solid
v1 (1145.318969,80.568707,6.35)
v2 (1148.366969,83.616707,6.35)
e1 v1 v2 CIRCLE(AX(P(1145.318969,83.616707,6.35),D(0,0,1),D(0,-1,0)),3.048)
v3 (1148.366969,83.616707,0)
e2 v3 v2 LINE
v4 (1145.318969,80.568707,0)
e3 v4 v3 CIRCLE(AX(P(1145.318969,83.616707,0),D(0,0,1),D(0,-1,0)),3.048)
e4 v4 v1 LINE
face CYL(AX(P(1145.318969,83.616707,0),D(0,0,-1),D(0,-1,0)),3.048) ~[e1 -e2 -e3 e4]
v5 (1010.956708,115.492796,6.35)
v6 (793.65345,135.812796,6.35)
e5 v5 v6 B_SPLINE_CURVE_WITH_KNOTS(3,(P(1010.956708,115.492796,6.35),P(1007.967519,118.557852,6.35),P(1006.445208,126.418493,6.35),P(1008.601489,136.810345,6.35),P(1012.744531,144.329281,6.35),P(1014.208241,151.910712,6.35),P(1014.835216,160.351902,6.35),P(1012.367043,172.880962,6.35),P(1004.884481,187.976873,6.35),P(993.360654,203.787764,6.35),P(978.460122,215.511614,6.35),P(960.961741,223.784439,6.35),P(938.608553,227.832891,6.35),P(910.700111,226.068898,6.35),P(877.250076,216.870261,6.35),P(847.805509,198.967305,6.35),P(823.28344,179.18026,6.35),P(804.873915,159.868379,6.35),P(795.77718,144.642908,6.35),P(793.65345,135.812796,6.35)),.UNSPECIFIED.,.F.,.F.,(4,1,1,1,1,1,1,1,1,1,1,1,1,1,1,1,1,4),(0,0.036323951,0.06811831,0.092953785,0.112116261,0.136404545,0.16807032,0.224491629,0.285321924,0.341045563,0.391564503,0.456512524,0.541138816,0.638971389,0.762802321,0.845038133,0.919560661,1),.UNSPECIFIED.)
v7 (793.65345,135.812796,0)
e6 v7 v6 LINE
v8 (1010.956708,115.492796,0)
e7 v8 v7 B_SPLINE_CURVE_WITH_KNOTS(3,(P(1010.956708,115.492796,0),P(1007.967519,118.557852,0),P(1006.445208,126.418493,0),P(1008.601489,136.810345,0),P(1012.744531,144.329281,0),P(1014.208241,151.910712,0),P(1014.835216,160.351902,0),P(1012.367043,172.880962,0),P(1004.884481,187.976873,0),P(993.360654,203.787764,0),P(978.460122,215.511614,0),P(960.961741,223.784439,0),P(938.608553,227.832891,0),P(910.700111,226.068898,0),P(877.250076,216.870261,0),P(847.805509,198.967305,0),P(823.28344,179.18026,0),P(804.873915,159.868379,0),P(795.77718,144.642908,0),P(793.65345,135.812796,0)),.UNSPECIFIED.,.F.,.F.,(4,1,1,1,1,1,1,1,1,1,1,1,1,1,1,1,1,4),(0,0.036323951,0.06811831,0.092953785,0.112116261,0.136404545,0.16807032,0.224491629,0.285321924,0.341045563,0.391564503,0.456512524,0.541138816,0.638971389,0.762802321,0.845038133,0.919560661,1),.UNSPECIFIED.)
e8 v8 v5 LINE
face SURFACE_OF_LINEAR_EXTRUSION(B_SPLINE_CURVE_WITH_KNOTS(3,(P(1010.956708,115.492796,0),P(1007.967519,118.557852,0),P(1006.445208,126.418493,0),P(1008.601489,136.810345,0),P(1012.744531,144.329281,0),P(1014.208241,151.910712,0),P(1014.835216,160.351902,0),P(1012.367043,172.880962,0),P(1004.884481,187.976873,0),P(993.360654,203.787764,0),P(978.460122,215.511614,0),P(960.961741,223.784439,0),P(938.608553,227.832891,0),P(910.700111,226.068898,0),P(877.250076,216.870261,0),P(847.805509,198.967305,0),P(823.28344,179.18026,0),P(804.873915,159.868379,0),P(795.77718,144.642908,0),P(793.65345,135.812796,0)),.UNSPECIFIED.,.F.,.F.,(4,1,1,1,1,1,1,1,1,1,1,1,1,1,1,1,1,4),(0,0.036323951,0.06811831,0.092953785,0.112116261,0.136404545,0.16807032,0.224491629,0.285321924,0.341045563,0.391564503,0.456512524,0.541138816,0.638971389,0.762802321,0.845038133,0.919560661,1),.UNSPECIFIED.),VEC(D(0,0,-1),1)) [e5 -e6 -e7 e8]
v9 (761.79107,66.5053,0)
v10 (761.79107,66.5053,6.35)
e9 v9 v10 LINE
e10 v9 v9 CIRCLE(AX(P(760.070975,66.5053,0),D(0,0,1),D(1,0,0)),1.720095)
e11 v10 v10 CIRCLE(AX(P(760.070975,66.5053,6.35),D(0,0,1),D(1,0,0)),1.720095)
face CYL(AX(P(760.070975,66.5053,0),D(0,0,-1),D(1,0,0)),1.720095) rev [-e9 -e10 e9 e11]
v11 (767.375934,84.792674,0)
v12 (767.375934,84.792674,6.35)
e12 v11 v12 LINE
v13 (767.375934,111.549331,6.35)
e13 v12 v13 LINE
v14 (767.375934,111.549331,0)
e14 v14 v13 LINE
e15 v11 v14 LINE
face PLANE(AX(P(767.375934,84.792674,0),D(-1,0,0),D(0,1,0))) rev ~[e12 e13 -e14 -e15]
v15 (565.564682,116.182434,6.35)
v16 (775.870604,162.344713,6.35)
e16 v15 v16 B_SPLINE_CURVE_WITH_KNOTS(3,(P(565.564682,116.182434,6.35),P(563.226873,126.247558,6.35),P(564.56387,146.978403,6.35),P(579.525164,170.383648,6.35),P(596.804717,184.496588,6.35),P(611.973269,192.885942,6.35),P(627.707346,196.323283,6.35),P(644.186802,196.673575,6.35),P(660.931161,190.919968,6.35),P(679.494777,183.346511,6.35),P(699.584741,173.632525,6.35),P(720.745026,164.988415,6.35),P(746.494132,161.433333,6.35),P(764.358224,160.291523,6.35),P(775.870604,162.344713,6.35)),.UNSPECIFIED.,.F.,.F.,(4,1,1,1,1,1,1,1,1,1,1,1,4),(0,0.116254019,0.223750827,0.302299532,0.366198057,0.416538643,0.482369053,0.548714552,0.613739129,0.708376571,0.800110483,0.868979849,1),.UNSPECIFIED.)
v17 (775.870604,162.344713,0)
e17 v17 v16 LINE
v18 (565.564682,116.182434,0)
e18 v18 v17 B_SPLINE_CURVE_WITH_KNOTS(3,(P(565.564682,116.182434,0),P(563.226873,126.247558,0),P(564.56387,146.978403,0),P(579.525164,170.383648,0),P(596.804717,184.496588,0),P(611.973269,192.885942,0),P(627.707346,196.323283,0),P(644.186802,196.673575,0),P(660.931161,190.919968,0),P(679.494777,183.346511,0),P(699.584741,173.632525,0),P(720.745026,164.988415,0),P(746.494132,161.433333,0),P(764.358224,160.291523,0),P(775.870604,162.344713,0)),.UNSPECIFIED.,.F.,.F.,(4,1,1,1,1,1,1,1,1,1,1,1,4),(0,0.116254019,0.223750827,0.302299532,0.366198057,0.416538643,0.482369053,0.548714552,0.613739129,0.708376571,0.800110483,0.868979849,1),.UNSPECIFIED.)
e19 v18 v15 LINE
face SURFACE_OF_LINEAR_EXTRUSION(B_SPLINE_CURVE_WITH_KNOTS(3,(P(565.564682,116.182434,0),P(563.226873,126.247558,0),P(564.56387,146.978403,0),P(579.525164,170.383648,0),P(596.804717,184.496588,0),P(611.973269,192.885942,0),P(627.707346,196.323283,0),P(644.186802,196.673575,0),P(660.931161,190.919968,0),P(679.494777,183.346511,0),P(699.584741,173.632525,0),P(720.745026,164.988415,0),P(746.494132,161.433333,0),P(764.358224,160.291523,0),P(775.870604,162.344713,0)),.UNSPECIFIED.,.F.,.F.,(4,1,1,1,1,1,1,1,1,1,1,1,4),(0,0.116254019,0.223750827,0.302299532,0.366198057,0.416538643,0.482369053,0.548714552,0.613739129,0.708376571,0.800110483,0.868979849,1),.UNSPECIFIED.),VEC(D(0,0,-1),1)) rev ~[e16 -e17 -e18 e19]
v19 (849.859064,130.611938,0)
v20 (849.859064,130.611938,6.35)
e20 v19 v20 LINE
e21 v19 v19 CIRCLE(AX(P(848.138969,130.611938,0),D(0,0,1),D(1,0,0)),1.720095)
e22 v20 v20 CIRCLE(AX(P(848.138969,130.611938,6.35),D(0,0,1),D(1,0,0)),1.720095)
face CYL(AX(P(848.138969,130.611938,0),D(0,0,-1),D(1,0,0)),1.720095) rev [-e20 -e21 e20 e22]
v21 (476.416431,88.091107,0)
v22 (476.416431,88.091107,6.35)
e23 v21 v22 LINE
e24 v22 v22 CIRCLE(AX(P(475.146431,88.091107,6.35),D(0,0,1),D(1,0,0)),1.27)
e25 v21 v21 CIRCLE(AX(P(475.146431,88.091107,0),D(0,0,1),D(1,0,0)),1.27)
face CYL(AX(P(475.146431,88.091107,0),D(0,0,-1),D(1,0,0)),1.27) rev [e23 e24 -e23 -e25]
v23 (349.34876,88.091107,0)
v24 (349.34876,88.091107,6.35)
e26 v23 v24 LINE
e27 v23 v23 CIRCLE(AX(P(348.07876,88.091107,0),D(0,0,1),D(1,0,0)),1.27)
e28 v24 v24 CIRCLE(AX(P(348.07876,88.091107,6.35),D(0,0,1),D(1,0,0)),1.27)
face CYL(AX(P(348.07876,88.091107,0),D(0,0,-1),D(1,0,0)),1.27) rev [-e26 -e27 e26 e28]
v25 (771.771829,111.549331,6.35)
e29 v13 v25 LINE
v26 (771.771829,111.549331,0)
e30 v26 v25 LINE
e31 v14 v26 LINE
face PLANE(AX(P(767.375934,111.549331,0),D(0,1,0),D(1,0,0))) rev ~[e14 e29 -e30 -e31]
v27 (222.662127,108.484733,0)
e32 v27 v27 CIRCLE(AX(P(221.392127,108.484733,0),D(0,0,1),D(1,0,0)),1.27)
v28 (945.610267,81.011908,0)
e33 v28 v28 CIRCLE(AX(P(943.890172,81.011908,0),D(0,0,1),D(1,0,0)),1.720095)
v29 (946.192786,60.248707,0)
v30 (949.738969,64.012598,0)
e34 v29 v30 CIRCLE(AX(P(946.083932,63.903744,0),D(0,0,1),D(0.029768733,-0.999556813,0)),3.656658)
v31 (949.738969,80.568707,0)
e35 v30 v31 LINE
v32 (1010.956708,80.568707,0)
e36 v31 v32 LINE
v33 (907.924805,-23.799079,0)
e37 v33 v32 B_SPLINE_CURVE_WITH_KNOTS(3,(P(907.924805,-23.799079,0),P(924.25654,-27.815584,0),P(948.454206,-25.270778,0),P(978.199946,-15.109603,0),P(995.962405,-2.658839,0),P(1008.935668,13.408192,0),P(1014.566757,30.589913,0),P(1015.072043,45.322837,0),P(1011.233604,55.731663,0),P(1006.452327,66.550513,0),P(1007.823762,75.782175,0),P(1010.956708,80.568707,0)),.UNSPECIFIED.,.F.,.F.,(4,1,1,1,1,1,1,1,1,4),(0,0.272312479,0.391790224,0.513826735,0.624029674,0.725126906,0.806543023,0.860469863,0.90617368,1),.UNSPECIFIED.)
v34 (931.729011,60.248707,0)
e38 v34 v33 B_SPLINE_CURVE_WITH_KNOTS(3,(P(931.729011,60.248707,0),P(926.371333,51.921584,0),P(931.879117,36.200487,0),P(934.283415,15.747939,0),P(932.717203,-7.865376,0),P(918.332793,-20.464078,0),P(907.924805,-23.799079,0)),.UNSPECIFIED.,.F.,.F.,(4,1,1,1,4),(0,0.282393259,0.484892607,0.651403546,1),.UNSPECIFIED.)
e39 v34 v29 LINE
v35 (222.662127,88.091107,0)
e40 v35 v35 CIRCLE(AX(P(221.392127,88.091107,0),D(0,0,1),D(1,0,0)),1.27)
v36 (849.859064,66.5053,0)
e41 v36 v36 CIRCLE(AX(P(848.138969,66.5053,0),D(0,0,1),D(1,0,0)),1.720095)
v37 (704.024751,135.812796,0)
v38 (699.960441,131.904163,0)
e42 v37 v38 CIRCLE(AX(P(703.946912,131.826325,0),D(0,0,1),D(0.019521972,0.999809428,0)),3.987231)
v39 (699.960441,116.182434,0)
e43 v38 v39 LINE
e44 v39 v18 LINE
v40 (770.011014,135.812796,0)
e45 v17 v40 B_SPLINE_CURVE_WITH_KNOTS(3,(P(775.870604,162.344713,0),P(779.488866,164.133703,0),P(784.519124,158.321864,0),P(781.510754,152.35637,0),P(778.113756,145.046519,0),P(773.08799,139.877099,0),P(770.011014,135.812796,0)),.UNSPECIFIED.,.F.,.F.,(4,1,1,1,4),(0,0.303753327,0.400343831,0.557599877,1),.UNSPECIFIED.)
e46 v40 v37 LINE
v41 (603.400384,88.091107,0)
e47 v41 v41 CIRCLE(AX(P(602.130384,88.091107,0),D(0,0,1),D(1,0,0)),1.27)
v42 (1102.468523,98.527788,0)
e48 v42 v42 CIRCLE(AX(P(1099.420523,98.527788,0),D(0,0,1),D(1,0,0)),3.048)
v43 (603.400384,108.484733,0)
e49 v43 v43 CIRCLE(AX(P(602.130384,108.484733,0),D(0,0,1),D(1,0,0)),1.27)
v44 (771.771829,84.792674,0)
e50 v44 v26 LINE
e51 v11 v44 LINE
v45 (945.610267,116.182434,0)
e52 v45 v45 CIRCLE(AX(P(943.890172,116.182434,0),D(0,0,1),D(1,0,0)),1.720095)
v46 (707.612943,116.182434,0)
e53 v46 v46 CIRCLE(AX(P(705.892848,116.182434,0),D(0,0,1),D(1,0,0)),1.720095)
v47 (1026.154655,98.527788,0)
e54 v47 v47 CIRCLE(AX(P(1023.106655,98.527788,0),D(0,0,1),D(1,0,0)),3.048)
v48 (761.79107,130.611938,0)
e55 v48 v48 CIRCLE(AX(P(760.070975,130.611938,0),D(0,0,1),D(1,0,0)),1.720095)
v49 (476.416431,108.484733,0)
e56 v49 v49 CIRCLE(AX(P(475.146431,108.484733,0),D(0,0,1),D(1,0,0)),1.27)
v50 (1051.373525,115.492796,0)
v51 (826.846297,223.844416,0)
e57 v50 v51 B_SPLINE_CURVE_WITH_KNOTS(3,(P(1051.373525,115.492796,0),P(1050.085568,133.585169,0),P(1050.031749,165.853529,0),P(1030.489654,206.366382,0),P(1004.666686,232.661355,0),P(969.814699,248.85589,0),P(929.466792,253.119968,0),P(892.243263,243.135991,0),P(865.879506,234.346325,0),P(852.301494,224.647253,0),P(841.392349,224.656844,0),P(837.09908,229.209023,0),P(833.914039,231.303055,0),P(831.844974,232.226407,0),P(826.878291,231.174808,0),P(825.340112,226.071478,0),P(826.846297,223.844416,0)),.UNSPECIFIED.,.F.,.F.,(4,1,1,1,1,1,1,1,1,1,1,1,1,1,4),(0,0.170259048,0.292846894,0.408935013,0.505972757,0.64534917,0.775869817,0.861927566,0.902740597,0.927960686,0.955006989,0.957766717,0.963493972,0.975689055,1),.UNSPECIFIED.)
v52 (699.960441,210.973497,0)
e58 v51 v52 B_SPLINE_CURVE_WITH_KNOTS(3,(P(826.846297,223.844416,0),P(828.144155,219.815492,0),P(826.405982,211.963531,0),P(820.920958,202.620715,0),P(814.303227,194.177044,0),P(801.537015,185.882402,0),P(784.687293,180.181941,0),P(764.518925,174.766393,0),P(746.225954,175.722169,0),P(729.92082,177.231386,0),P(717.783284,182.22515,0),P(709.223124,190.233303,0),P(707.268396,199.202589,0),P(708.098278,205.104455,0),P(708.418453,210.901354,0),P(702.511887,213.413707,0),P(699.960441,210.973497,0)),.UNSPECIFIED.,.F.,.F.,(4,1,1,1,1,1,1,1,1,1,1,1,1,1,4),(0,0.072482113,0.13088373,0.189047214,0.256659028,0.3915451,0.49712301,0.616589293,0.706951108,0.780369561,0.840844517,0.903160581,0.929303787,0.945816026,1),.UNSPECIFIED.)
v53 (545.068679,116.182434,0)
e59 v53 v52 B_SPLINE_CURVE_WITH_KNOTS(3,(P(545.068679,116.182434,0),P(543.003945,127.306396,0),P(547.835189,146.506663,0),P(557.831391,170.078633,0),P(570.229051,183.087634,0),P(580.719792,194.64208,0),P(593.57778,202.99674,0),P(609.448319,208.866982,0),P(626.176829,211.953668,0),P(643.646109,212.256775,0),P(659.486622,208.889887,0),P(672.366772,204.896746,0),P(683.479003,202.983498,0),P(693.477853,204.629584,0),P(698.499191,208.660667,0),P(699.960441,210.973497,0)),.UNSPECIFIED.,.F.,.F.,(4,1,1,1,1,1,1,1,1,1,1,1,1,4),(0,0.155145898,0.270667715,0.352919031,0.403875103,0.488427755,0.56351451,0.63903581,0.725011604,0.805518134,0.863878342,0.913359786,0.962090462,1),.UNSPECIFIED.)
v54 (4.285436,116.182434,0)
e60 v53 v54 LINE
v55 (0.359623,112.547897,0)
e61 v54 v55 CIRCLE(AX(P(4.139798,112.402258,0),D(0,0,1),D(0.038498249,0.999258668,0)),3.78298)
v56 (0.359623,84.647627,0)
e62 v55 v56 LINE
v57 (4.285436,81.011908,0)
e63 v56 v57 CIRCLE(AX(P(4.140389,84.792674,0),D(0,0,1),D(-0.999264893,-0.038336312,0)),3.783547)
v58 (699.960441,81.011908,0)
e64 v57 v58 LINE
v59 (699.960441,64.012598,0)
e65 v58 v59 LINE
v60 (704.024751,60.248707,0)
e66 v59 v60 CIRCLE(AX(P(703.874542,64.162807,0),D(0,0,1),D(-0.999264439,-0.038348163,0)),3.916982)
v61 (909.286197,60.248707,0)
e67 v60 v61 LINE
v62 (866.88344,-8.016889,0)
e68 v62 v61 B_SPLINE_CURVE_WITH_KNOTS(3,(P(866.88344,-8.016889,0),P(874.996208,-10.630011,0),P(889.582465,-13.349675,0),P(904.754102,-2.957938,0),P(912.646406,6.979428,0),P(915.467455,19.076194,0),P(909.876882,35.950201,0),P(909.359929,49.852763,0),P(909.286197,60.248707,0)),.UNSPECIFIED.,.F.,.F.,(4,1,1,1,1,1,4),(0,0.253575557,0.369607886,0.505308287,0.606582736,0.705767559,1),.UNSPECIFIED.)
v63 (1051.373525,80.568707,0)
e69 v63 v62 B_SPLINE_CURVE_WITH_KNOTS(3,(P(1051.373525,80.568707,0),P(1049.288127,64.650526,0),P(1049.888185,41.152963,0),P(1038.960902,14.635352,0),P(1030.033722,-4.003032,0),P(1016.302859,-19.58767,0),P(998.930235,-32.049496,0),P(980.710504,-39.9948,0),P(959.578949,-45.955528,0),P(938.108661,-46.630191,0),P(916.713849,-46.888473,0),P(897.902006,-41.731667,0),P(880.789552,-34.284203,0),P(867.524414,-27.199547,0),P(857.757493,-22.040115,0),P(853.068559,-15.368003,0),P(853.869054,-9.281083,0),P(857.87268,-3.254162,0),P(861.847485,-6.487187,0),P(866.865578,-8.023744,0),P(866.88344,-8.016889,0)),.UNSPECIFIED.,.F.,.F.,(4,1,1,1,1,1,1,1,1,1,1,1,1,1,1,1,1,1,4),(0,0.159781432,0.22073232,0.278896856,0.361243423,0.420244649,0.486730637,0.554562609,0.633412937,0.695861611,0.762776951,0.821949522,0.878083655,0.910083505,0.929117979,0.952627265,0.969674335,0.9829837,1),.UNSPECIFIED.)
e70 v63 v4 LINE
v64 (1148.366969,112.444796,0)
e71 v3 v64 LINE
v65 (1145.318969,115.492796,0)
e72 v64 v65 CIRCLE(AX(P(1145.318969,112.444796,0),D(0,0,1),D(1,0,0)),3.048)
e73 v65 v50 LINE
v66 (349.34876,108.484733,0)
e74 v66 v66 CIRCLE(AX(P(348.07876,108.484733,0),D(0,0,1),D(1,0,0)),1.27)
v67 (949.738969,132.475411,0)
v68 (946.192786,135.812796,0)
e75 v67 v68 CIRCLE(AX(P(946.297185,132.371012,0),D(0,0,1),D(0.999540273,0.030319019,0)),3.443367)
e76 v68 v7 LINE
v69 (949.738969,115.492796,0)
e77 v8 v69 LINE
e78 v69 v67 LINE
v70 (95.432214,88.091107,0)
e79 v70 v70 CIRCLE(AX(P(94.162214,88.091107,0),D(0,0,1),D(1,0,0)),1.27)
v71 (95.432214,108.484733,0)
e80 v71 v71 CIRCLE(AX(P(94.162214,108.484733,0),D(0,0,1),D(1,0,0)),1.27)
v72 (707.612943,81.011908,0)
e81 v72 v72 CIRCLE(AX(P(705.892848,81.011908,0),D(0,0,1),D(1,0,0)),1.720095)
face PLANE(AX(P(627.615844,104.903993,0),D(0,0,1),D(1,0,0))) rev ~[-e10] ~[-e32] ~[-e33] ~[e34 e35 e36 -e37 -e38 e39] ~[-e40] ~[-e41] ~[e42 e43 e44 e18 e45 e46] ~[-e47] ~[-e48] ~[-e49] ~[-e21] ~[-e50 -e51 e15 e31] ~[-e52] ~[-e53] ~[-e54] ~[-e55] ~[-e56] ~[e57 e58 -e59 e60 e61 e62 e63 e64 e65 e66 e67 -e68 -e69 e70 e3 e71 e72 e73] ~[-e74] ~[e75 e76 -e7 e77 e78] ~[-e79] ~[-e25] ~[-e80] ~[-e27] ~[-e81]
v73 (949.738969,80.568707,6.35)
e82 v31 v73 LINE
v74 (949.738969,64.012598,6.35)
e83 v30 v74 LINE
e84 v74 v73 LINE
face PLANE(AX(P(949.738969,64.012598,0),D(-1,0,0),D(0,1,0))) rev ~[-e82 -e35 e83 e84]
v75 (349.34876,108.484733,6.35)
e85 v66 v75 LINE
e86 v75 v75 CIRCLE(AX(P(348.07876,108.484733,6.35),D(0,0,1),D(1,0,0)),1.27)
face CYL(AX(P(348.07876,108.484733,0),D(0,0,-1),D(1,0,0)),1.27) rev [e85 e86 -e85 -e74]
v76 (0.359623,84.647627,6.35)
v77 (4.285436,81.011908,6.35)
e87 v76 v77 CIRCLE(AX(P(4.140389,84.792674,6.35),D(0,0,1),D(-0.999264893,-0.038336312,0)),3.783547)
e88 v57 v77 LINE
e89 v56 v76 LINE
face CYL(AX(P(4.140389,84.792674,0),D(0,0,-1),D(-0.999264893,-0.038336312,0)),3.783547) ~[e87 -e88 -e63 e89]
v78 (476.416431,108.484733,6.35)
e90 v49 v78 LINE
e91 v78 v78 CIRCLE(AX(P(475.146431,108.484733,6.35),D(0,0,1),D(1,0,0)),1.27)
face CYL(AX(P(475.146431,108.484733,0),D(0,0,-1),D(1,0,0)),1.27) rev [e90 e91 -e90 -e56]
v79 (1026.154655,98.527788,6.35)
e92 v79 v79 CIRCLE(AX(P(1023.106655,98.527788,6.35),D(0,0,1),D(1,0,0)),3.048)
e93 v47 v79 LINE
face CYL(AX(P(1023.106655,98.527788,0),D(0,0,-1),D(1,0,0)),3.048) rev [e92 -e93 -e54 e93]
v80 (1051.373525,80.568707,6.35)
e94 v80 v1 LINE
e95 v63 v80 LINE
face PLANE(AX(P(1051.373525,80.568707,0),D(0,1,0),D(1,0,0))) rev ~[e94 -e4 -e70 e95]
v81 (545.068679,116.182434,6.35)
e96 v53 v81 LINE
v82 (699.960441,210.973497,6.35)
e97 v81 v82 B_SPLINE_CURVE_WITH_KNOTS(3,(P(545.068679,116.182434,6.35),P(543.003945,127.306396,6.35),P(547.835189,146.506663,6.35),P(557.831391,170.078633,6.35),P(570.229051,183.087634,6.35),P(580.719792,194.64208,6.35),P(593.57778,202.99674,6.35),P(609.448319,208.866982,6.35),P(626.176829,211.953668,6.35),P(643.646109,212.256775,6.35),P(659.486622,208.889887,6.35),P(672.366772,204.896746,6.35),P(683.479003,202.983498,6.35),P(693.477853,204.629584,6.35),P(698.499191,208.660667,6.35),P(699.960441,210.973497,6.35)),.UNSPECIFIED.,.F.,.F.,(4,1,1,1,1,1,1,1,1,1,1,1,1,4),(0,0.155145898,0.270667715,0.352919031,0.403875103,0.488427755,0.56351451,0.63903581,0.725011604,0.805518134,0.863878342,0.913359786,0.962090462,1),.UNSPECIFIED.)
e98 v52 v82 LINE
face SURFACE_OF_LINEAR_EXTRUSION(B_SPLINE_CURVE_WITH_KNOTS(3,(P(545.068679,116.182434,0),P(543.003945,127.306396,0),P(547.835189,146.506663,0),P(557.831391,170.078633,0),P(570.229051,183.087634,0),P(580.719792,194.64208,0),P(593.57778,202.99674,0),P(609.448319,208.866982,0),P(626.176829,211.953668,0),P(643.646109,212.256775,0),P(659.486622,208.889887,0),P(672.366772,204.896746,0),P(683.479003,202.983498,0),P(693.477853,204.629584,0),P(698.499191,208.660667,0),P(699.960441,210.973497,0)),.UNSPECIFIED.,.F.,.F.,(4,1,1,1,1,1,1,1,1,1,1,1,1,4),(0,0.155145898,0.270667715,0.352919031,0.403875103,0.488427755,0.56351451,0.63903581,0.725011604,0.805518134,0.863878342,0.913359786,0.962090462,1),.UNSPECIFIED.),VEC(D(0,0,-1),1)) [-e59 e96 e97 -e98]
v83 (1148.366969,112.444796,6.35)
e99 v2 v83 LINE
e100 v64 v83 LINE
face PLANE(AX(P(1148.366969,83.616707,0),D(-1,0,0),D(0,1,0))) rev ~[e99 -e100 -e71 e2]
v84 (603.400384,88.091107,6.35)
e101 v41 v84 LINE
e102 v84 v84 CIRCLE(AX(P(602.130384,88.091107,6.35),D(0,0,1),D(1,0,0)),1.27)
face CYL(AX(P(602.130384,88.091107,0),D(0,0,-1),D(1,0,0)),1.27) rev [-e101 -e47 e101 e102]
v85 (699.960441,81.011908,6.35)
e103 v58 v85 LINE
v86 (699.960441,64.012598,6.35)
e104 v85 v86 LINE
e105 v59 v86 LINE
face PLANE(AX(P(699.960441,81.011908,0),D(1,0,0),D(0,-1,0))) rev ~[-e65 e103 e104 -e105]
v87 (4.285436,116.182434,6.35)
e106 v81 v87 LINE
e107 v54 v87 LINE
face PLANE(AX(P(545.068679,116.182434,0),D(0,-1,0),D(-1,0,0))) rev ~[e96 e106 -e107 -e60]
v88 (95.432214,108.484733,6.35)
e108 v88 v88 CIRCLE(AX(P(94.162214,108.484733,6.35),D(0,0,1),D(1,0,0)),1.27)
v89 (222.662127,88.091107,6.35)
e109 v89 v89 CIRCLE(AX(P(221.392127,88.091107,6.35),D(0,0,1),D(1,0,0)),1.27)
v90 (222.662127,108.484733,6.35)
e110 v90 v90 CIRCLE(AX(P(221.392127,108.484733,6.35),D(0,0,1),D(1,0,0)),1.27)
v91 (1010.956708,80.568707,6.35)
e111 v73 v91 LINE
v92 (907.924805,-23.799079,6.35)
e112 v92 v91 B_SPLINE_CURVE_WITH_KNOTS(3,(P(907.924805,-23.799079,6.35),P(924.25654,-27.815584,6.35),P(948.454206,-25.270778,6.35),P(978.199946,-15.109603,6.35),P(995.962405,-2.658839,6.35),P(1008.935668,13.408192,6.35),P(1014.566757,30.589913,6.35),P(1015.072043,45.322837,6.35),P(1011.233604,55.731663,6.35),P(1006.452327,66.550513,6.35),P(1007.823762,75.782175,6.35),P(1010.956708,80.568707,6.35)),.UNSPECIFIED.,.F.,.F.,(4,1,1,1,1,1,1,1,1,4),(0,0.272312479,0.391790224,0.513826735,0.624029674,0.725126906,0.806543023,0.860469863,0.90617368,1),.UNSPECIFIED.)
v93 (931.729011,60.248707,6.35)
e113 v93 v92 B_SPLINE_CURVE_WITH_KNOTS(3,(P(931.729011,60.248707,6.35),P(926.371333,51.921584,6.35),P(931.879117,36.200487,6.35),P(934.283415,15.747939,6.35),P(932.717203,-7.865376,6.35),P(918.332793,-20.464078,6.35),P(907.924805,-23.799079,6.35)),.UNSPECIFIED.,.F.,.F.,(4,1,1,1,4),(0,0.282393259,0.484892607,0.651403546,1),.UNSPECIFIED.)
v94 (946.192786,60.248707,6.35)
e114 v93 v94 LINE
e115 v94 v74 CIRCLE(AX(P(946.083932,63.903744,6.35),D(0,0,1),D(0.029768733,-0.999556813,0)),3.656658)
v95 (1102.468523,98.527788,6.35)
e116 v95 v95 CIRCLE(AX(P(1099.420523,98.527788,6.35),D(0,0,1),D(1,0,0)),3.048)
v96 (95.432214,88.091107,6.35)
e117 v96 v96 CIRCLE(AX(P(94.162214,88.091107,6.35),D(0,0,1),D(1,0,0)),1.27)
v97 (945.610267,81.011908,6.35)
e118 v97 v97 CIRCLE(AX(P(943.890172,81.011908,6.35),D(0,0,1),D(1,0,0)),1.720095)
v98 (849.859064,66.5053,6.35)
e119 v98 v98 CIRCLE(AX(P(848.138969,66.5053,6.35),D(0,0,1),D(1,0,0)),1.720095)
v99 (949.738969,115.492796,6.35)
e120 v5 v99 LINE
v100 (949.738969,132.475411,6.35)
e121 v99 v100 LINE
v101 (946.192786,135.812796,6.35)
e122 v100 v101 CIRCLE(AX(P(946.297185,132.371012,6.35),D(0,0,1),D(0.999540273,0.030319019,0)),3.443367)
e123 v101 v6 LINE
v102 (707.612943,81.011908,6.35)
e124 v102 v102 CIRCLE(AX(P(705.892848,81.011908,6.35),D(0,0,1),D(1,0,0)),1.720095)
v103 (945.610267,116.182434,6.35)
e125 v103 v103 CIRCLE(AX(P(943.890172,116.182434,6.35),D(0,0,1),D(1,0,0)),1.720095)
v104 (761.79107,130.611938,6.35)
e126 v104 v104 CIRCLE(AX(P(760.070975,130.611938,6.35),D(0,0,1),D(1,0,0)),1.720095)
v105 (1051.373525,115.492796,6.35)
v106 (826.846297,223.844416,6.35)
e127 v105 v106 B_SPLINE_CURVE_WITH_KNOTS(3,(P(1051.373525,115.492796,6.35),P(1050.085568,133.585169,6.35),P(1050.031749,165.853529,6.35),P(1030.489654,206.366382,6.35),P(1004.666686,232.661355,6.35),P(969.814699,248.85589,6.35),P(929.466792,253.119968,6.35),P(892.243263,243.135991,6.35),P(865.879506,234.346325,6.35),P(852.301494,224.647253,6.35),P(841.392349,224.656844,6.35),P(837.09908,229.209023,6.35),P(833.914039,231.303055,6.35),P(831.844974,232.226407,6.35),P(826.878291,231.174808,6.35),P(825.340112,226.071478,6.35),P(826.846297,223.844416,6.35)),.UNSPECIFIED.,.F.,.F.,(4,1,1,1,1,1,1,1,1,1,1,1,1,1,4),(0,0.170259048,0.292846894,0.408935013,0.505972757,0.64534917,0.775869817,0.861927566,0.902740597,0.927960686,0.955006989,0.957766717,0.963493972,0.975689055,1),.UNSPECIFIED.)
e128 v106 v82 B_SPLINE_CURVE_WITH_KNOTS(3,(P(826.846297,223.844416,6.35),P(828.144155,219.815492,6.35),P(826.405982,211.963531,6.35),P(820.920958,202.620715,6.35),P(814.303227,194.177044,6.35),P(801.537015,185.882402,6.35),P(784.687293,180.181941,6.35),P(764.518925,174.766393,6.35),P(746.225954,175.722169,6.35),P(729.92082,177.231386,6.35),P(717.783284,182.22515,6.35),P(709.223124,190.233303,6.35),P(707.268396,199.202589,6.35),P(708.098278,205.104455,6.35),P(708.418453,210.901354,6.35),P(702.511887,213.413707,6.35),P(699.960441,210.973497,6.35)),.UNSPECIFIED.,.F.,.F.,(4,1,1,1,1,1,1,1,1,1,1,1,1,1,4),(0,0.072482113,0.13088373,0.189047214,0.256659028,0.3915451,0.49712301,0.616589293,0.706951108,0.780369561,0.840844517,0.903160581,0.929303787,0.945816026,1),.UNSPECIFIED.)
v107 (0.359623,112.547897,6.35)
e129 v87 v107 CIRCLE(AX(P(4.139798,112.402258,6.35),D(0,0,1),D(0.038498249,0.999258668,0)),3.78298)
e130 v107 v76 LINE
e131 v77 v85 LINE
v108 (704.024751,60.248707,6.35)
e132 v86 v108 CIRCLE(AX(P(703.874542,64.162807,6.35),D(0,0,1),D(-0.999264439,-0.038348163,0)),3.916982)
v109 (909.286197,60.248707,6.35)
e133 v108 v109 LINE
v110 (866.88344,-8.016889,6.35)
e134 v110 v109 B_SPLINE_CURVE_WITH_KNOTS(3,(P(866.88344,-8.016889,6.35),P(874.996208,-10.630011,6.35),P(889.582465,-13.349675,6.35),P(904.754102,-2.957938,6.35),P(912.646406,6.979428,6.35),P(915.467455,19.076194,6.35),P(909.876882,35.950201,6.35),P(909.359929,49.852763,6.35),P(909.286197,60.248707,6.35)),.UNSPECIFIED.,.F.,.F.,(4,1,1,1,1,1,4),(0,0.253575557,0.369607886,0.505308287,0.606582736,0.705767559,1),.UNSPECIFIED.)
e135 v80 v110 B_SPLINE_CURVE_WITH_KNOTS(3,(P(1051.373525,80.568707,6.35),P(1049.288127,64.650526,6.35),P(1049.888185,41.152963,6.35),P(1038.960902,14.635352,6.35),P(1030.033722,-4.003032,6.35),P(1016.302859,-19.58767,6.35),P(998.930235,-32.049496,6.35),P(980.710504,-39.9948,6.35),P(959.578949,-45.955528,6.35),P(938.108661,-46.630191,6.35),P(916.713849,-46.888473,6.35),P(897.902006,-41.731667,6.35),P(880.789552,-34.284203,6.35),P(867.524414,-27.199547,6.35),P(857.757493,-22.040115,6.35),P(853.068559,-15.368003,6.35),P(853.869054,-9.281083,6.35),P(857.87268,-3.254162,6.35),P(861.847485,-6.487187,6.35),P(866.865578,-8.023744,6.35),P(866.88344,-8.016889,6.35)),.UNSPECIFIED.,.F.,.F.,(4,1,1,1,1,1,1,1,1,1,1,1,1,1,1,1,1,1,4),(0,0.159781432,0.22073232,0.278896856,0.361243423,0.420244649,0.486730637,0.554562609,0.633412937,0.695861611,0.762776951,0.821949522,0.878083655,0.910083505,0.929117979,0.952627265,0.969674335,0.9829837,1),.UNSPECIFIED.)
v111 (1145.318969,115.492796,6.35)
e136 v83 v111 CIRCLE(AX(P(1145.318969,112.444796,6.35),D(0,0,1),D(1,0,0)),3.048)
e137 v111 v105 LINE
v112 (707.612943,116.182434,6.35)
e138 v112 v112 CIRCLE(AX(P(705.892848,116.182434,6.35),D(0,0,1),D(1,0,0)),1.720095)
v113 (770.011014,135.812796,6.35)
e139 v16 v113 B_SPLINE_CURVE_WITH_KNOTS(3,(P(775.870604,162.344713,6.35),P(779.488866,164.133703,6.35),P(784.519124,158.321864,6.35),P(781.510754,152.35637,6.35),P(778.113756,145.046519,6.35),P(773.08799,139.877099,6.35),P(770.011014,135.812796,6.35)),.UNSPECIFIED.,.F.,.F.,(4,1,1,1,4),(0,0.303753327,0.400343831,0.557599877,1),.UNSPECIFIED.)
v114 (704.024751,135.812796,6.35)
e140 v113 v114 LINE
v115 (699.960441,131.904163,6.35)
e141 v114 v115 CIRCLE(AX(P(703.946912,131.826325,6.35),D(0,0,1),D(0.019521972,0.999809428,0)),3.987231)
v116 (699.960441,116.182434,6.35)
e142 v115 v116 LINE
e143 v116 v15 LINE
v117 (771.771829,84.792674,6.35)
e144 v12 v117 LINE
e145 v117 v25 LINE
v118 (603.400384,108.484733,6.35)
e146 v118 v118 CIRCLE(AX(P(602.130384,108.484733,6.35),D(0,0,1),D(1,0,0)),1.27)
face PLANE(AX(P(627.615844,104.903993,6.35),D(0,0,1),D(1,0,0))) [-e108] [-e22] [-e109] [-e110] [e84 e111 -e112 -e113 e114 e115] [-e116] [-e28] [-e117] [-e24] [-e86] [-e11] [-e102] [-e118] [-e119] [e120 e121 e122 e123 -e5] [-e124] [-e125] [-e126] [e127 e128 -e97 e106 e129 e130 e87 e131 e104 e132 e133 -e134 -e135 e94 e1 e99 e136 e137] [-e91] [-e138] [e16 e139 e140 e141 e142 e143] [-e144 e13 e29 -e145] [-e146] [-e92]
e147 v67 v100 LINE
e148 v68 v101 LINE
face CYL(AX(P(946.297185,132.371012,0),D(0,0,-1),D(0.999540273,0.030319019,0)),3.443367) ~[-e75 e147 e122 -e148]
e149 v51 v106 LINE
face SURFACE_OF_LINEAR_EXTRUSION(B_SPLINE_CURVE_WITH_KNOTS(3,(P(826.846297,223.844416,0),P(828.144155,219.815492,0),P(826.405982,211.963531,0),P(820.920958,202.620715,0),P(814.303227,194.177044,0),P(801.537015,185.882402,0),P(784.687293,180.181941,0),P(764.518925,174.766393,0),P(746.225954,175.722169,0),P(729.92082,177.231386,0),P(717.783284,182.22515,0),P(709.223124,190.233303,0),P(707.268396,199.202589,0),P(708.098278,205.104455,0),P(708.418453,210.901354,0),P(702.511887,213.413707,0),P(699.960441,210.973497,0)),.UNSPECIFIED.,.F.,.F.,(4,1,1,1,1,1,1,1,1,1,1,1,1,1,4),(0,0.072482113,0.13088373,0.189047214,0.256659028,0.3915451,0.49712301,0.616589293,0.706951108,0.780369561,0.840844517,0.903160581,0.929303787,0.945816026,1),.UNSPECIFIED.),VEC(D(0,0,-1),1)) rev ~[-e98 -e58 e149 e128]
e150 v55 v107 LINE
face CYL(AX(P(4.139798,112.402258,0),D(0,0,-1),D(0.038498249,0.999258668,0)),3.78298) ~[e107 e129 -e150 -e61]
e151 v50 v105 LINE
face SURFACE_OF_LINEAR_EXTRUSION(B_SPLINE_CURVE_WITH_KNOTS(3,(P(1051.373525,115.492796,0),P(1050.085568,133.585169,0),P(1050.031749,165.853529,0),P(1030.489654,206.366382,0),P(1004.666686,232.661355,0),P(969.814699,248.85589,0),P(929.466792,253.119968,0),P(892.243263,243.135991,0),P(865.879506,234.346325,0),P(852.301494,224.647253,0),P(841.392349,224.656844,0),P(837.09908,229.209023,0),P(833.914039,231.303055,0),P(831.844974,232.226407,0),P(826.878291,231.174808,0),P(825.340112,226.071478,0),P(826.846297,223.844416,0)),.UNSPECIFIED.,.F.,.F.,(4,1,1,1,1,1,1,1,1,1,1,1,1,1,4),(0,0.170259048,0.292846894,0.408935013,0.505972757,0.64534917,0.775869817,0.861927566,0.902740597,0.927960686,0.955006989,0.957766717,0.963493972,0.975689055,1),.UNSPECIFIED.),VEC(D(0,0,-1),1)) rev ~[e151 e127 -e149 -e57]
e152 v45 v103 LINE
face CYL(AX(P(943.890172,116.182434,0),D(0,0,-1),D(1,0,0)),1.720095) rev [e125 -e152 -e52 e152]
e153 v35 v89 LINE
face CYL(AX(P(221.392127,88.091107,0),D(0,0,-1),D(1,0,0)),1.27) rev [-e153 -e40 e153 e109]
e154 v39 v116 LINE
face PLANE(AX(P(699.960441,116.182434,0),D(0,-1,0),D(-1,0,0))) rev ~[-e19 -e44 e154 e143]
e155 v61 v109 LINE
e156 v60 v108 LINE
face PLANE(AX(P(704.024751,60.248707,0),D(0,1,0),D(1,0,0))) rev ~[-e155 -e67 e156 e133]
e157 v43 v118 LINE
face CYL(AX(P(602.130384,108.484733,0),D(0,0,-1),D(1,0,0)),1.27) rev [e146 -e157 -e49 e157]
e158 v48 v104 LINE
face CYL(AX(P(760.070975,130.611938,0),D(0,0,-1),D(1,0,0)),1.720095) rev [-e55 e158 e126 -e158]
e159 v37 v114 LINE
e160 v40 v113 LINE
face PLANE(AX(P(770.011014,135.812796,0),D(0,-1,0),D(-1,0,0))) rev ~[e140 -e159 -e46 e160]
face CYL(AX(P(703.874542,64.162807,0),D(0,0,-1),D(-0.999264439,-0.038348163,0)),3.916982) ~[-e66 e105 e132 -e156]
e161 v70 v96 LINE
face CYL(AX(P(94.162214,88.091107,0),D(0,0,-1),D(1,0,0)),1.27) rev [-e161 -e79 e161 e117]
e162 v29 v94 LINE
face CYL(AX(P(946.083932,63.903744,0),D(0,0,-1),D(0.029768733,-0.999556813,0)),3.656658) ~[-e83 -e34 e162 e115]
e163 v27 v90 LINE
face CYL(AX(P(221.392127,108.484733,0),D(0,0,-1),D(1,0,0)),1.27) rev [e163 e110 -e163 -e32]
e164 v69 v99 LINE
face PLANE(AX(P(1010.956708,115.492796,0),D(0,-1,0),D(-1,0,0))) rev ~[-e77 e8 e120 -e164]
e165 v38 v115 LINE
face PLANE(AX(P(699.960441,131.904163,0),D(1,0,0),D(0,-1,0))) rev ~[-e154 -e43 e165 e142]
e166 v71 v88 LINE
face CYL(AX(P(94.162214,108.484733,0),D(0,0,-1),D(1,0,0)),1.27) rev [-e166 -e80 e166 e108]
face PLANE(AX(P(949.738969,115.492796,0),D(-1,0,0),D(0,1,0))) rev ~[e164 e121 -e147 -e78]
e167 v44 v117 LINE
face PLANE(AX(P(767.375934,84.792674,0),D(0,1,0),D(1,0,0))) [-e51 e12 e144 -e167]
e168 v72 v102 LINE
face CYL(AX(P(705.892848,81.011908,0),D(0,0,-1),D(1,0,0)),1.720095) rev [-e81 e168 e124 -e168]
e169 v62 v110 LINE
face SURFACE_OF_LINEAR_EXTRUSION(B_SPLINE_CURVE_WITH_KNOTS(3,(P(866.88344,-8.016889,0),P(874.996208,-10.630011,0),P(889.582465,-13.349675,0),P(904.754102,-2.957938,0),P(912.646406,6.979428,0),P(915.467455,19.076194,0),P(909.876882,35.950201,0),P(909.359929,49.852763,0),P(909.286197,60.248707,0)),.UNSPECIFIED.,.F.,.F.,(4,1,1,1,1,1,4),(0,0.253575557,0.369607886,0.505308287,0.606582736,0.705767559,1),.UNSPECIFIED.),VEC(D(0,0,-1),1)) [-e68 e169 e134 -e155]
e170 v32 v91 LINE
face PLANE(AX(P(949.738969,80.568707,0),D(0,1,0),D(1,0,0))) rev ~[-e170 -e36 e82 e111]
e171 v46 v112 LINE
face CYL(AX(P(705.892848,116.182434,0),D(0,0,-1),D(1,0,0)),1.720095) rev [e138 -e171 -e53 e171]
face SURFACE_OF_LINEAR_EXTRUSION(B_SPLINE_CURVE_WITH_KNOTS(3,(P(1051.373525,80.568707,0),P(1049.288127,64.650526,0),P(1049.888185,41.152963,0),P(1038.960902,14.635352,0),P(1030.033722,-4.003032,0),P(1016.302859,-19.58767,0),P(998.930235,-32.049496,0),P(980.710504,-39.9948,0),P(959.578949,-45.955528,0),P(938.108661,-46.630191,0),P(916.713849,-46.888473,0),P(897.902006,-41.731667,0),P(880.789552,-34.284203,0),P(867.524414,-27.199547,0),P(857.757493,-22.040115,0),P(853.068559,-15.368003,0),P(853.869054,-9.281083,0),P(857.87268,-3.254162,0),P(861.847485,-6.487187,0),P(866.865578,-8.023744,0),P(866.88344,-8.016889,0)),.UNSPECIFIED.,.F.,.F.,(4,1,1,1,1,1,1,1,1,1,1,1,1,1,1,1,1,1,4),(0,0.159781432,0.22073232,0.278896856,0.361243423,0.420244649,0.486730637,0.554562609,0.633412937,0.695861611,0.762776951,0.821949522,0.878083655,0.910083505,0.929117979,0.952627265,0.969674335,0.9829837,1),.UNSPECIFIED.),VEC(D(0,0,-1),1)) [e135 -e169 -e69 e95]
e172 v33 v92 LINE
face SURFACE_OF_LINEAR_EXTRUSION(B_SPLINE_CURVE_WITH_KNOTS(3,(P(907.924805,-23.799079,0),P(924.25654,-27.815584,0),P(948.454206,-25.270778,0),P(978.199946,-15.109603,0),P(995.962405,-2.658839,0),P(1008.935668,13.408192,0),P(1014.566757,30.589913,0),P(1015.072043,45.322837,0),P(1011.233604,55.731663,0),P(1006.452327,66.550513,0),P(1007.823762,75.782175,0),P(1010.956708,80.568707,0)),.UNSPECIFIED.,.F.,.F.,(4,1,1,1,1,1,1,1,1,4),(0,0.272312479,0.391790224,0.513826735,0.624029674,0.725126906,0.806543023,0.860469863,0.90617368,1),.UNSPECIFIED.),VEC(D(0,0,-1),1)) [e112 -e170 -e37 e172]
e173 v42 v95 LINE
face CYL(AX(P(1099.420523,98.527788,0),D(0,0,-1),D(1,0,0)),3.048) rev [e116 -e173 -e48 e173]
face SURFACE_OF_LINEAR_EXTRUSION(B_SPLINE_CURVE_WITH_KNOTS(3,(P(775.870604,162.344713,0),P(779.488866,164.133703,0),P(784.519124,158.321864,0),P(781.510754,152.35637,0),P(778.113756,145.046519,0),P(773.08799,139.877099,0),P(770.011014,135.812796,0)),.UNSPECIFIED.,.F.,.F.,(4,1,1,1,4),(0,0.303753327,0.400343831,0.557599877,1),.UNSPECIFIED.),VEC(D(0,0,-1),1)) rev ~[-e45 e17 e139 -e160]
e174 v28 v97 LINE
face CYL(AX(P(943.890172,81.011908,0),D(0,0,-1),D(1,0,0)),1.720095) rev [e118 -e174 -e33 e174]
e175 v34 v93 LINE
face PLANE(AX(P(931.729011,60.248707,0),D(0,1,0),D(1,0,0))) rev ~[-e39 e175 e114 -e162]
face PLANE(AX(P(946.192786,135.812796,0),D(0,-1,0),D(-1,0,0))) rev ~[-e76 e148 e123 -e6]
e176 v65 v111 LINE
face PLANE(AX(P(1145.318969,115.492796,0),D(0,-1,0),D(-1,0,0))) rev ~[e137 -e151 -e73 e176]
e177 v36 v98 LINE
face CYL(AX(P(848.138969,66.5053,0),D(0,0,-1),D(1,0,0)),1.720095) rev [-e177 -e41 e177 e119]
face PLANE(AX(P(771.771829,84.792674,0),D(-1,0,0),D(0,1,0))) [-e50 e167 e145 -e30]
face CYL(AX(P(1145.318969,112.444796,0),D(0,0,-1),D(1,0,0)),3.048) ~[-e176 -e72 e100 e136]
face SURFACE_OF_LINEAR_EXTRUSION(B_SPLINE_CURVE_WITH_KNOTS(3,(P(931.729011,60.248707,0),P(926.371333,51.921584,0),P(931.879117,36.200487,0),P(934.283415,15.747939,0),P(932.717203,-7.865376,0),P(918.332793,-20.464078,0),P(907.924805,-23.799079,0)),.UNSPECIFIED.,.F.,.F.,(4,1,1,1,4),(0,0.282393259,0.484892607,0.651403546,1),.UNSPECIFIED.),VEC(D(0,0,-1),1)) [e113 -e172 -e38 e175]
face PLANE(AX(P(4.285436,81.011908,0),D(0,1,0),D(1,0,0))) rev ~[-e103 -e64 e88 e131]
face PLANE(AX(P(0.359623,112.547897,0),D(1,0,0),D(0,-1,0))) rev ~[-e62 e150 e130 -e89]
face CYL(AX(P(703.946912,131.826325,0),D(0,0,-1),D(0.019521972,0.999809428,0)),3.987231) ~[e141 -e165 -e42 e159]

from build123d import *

# Parameters (mm, degrees)
SKETCH1_R           = 1.27
SKETCH1_R_2         = 1.720095417
SKETCH1_W           = 4.395895468
SKETCH1_H           = 26.756656412
SKETCH1_R_3         = 3.048
BOSS_EXTRUDE1_DEPTH = 6.35


with BuildPart() as part:
    # Sketch1 → Boss-Extrude1 (new body)
    with BuildSketch(Plane.XY):
        with BuildLine():
            Line((0.359622665, 112.547896558), (0.359622665, 84.647626996))
            ThreePointArc((0.359622665, 84.647626996), (1.569547298, 82.016705042), (4.285435965, 81.011908201))
            Line((4.285435965, 81.011908201), (699.960441306, 81.011908201))
            Line((699.960441306, 81.011908201), (699.960441306, 64.012598058))
            ThreePointArc((699.960441306, 64.012598058), (701.213068629, 61.288906282), (704.024750828, 60.24870663))
            Line((704.024750828, 60.24870663), (909.286197208, 60.24870663))
            add(Edge.make_bspline(
                [(866.883440258, -8.016888538), (874.996208069, -10.630011106), (889.582465134, -13.349674555), (904.754102276, -2.95793798), (912.646405573, 6.979428185), (915.467454602, 19.076193935), (909.876881939, 35.950201477), (909.359928546, 49.852763393), (909.286197208, 60.24870663)],
                knots=[0, 0, 0, 0, 0.253575557, 0.369607886, 0.505308287, 0.606582736, 0.705767559, 1, 1, 1, 1], degree=3))
            add(Edge.make_bspline(
                [(1051.373524781, 80.56870663), (1049.288127142, 64.650526229), (1049.88818517, 41.15296277), (1038.960901756, 14.635351575), (1030.033721858, -4.003031853), (1016.302858841, -19.587670347), (998.930235011, -32.049495928), (980.710504271, -39.994799999), (959.57894918, -45.955528305), (938.108660724, -46.630190525), (916.713848936, -46.888472713), (897.902005788, -41.731666781), (880.789552489, -34.28420289), (867.524414432, -27.199547471), (857.757493082, -22.04011477), (853.06855917, -15.368003413), (853.869053657, -9.281082738), (857.872680057, -3.254162116), (861.84748545, -6.487186688), (866.865577861, -8.023744377), (866.883440258, -8.016888538)],
                knots=[0, 0, 0, 0, 0.159781432, 0.22073232, 0.278896856, 0.361243423, 0.420244649, 0.486730637, 0.554562609, 0.633412937, 0.695861611, 0.762776951, 0.821949522, 0.878083655, 0.910083505, 0.929117979, 0.952627265, 0.969674335, 0.9829837, 1, 1, 1, 1], degree=3))
            Line((1051.373524781, 80.56870663), (1145.318968911, 80.56870663))
            ThreePointArc((1145.318968911, 80.56870663), (1147.47423038, 81.461445161), (1148.366968911, 83.61670663))
            Line((1148.366968911, 83.61670663), (1148.366968911, 112.444795653))
            ThreePointArc((1148.366968911, 112.444795653), (1147.47423038, 114.600057122), (1145.318968911, 115.492795653))
            Line((1145.318968911, 115.492795653), (1051.373524781, 115.492795653))
            add(Edge.make_bspline(
                [(1051.373524781, 115.492795653), (1050.085567845, 133.585169118), (1050.031748592, 165.853529466), (1030.489653884, 206.366381772), (1004.666685748, 232.661355303), (969.814698833, 248.855889629), (929.466791914, 253.119967796), (892.243263272, 243.135991048), (865.879505599, 234.346324949), (852.301494449, 224.647253002), (841.392349307, 224.656843506), (837.099080275, 229.209023083), (833.914039429, 231.303054702), (831.844974328, 232.226406665), (826.87829078, 231.174808269), (825.340112102, 226.071477889), (826.846296928, 223.844416195)],
                knots=[0, 0, 0, 0, 0.170259048, 0.292846894, 0.408935013, 0.505972757, 0.64534917, 0.775869817, 0.861927566, 0.902740597, 0.927960686, 0.955006989, 0.957766717, 0.963493972, 0.975689055, 1, 1, 1, 1], degree=3))
            add(Edge.make_bspline(
                [(826.846296928, 223.844416195), (828.1441551, 219.815491892), (826.405981943, 211.963531121), (820.920958395, 202.620715011), (814.303227062, 194.177043953), (801.537014519, 185.882402122), (784.687293461, 180.181940997), (764.518925037, 174.766393306), (746.225954239, 175.722168548), (729.920820026, 177.231385826), (717.783284419, 182.225149694), (709.22312443, 190.233303454), (707.268395716, 199.202588574), (708.098277515, 205.104454515), (708.418453014, 210.901354403), (702.511886729, 213.413706755), (699.960441306, 210.973496645)],
                knots=[0, 0, 0, 0, 0.072482113, 0.13088373, 0.189047214, 0.256659028, 0.3915451, 0.49712301, 0.616589293, 0.706951108, 0.780369561, 0.840844517, 0.903160581, 0.929303787, 0.945816026, 1, 1, 1, 1], degree=3))
            add(Edge.make_bspline(
                [(545.068679485, 116.18243367), (543.003944869, 127.306395669), (547.835188666, 146.50666263), (557.831391281, 170.078633417), (570.229050884, 183.087633665), (580.719792418, 194.642079707), (593.5777802, 202.996739544), (609.448319418, 208.86698225), (626.176829351, 211.953667548), (643.646109213, 212.256774791), (659.486622395, 208.88988684), (672.366772331, 204.896746195), (683.479003472, 202.983497948), (693.477852728, 204.629583715), (698.499191276, 208.660666551), (699.960441306, 210.973496645)],
                knots=[0, 0, 0, 0, 0.155145898, 0.270667715, 0.352919031, 0.403875103, 0.488427755, 0.56351451, 0.63903581, 0.725011604, 0.805518134, 0.863878342, 0.913359786, 0.962090462, 1, 1, 1, 1], degree=3))
            Line((545.068679485, 116.18243367), (4.285435965, 116.18243367))
            ThreePointArc((4.285435965, 116.18243367), (1.569792033, 115.17822767), (0.359622665, 112.547896558))
        make_face()
        with BuildLine():
            Line((699.960441306, 116.18243367), (565.564682143, 116.18243367))
            add(Edge.make_bspline(
                [(565.564682143, 116.18243367), (563.226872964, 126.247558426), (564.563870169, 146.978403139), (579.525164002, 170.383648282), (596.804717428, 184.496588222), (611.973268858, 192.885941946), (627.707346003, 196.323282932), (644.186801908, 196.673574965), (660.931161335, 190.919967617), (679.49477656, 183.346510635), (699.584741427, 173.632525371), (720.745026095, 164.98841516), (746.494131876, 161.433333264), (764.358224053, 160.291522579), (775.870604305, 162.344713358)],
                knots=[0, 0, 0, 0, 0.116254019, 0.223750827, 0.302299532, 0.366198057, 0.416538643, 0.482369053, 0.548714552, 0.613739129, 0.708376571, 0.800110483, 0.868979849, 1, 1, 1, 1], degree=3))
            add(Edge.make_bspline(
                [(775.870604305, 162.344713358), (779.488866181, 164.133703127), (784.519124227, 158.321863711), (781.510753604, 152.356369762), (778.113755949, 145.046519293), (773.087990045, 139.877099284), (770.011014066, 135.812795653)],
                knots=[0, 0, 0, 0, 0.303753327, 0.400343831, 0.557599877, 1, 1, 1, 1], degree=3))
            Line((770.011014066, 135.812795653), (704.024750828, 135.812795653))
            ThreePointArc((704.024750828, 135.812795653), (701.183091811, 134.700225562), (699.960441306, 131.904163347))
            Line((699.960441306, 131.904163347), (699.960441306, 116.18243367))
        make_face(mode=Mode.SUBTRACT)
        with BuildLine():
            Line((943.890172073, 135.812795653), (793.653450035, 135.812795653))
            add(Edge.make_bspline(
                [(1010.956707906, 115.492795653), (1007.967519446, 118.557852299), (1006.44520792, 126.418493459), (1008.601489172, 136.81034488), (1012.744531036, 144.329280892), (1014.208241343, 151.910712426), (1014.83521591, 160.351901877), (1012.367043029, 172.880962297), (1004.884481127, 187.9768728), (993.360653721, 203.787764201), (978.460122223, 215.511614276), (960.961741427, 223.784439146), (938.608552625, 227.832891389), (910.700110812, 226.068897979), (877.250076253, 216.870260714), (847.805509367, 198.967305375), (823.283440326, 179.180260176), (804.873915285, 159.868379039), (795.777179698, 144.642908038), (793.653450035, 135.812795653)],
                knots=[0, 0, 0, 0, 0.036323951, 0.06811831, 0.092953785, 0.112116261, 0.136404545, 0.16807032, 0.224491629, 0.285321924, 0.341045563, 0.391564503, 0.456512524, 0.541138816, 0.638971389, 0.762802321, 0.845038133, 0.919560661, 1, 1, 1, 1], degree=3))
            Line((1010.956707906, 115.492795653), (949.738968911, 115.492795653))
            Line((949.738968911, 115.492795653), (949.738968911, 132.475411377))
            ThreePointArc((949.738968911, 132.475411377), (948.657072186, 134.878542119), (946.192785632, 135.812795653))
            Line((946.192785632, 135.812795653), (943.890172073, 135.812795653))
        make_face(mode=Mode.SUBTRACT)
        with BuildLine():
            Line((949.738968911, 80.56870663), (1010.956707906, 80.56870663))
            add(Edge.make_bspline(
                [(907.924805009, -23.799079293), (924.25654034, -27.815584387), (948.454206412, -25.270778028), (978.199946498, -15.109602732), (995.962405074, -2.658838724), (1008.935667748, 13.408192449), (1014.56675733, 30.589912872), (1015.072043006, 45.322836602), (1011.233604334, 55.731662703), (1006.452327286, 66.550512981), (1007.823761663, 75.782174911), (1010.956707906, 80.56870663)],
                knots=[0, 0, 0, 0, 0.272312479, 0.391790224, 0.513826735, 0.624029674, 0.725126906, 0.806543023, 0.860469863, 0.90617368, 1, 1, 1, 1], degree=3))
            add(Edge.make_bspline(
                [(931.72901064, 60.24870663), (926.371333174, 51.921584385), (931.879117456, 36.200486978), (934.283414601, 15.747939395), (932.717203407, -7.865376158), (918.332792966, -20.46407755), (907.924805009, -23.799079293)],
                knots=[0, 0, 0, 0, 0.282393259, 0.484892607, 0.651403546, 1, 1, 1, 1], degree=3))
            Line((931.72901064, 60.24870663), (943.890172073, 60.24870663))
            Line((943.890172073, 60.24870663), (946.192785632, 60.24870663))
            ThreePointArc((946.192785632, 60.24870663), (948.74540471, 61.39621374), (949.738968911, 64.012598058))
            Line((949.738968911, 64.012598058), (949.738968911, 80.56870663))
        make_face(mode=Mode.SUBTRACT)
        with Locations((94.1622142, 88.091107164)):
            Circle(SKETCH1_R, mode=Mode.SUBTRACT)
        with Locations((221.392126764, 88.091107164)):
            Circle(SKETCH1_R, mode=Mode.SUBTRACT)
        with Locations((348.078760153, 88.091107164)):
            Circle(SKETCH1_R, mode=Mode.SUBTRACT)
        with Locations((475.146430575, 88.091107164)):
            Circle(SKETCH1_R, mode=Mode.SUBTRACT)
        with Locations((705.892847696, 81.011908201)):
            Circle(SKETCH1_R_2, mode=Mode.SUBTRACT)
        with Locations((602.130384222, 88.091107164)):
            Circle(SKETCH1_R, mode=Mode.SUBTRACT)
        with Locations((760.070975046, 66.505299661)):
            Circle(SKETCH1_R_2, mode=Mode.SUBTRACT)
        with Locations((848.138968911, 66.505299661)):
            Circle(SKETCH1_R_2, mode=Mode.SUBTRACT)
        with Locations((769.573881411, 98.171002455)):
            Rectangle(SKETCH1_W, SKETCH1_H, mode=Mode.SUBTRACT)
        with Locations((943.890172073, 81.011908201)):
            Circle(SKETCH1_R_2, mode=Mode.SUBTRACT)
        with Locations((1023.106655082, 98.527788179)):
            Circle(SKETCH1_R_3, mode=Mode.SUBTRACT)
        with Locations((1099.420523291, 98.527788179)):
            Circle(SKETCH1_R_3, mode=Mode.SUBTRACT)
        with Locations((94.1622142, 108.484732819)):
            Circle(SKETCH1_R, mode=Mode.SUBTRACT)
        with Locations((221.392126764, 108.484732819)):
            Circle(SKETCH1_R, mode=Mode.SUBTRACT)
        with Locations((348.078760153, 108.484732819)):
            Circle(SKETCH1_R, mode=Mode.SUBTRACT)
        with Locations((475.146430575, 108.484732819)):
            Circle(SKETCH1_R, mode=Mode.SUBTRACT)
        with Locations((602.130384222, 108.484732819)):
            Circle(SKETCH1_R, mode=Mode.SUBTRACT)
        with Locations((705.892847696, 116.18243367)):
            Circle(SKETCH1_R_2, mode=Mode.SUBTRACT)
        with Locations((760.070975046, 130.611938178)):
            Circle(SKETCH1_R_2, mode=Mode.SUBTRACT)
        with Locations((848.138968911, 130.611938178)):
            Circle(SKETCH1_R_2, mode=Mode.SUBTRACT)
        with Locations((943.890172073, 116.18243367)):
            Circle(SKETCH1_R_2, mode=Mode.SUBTRACT)
    extrude(amount=BOSS_EXTRUDE1_DEPTH)


solid = part.part
